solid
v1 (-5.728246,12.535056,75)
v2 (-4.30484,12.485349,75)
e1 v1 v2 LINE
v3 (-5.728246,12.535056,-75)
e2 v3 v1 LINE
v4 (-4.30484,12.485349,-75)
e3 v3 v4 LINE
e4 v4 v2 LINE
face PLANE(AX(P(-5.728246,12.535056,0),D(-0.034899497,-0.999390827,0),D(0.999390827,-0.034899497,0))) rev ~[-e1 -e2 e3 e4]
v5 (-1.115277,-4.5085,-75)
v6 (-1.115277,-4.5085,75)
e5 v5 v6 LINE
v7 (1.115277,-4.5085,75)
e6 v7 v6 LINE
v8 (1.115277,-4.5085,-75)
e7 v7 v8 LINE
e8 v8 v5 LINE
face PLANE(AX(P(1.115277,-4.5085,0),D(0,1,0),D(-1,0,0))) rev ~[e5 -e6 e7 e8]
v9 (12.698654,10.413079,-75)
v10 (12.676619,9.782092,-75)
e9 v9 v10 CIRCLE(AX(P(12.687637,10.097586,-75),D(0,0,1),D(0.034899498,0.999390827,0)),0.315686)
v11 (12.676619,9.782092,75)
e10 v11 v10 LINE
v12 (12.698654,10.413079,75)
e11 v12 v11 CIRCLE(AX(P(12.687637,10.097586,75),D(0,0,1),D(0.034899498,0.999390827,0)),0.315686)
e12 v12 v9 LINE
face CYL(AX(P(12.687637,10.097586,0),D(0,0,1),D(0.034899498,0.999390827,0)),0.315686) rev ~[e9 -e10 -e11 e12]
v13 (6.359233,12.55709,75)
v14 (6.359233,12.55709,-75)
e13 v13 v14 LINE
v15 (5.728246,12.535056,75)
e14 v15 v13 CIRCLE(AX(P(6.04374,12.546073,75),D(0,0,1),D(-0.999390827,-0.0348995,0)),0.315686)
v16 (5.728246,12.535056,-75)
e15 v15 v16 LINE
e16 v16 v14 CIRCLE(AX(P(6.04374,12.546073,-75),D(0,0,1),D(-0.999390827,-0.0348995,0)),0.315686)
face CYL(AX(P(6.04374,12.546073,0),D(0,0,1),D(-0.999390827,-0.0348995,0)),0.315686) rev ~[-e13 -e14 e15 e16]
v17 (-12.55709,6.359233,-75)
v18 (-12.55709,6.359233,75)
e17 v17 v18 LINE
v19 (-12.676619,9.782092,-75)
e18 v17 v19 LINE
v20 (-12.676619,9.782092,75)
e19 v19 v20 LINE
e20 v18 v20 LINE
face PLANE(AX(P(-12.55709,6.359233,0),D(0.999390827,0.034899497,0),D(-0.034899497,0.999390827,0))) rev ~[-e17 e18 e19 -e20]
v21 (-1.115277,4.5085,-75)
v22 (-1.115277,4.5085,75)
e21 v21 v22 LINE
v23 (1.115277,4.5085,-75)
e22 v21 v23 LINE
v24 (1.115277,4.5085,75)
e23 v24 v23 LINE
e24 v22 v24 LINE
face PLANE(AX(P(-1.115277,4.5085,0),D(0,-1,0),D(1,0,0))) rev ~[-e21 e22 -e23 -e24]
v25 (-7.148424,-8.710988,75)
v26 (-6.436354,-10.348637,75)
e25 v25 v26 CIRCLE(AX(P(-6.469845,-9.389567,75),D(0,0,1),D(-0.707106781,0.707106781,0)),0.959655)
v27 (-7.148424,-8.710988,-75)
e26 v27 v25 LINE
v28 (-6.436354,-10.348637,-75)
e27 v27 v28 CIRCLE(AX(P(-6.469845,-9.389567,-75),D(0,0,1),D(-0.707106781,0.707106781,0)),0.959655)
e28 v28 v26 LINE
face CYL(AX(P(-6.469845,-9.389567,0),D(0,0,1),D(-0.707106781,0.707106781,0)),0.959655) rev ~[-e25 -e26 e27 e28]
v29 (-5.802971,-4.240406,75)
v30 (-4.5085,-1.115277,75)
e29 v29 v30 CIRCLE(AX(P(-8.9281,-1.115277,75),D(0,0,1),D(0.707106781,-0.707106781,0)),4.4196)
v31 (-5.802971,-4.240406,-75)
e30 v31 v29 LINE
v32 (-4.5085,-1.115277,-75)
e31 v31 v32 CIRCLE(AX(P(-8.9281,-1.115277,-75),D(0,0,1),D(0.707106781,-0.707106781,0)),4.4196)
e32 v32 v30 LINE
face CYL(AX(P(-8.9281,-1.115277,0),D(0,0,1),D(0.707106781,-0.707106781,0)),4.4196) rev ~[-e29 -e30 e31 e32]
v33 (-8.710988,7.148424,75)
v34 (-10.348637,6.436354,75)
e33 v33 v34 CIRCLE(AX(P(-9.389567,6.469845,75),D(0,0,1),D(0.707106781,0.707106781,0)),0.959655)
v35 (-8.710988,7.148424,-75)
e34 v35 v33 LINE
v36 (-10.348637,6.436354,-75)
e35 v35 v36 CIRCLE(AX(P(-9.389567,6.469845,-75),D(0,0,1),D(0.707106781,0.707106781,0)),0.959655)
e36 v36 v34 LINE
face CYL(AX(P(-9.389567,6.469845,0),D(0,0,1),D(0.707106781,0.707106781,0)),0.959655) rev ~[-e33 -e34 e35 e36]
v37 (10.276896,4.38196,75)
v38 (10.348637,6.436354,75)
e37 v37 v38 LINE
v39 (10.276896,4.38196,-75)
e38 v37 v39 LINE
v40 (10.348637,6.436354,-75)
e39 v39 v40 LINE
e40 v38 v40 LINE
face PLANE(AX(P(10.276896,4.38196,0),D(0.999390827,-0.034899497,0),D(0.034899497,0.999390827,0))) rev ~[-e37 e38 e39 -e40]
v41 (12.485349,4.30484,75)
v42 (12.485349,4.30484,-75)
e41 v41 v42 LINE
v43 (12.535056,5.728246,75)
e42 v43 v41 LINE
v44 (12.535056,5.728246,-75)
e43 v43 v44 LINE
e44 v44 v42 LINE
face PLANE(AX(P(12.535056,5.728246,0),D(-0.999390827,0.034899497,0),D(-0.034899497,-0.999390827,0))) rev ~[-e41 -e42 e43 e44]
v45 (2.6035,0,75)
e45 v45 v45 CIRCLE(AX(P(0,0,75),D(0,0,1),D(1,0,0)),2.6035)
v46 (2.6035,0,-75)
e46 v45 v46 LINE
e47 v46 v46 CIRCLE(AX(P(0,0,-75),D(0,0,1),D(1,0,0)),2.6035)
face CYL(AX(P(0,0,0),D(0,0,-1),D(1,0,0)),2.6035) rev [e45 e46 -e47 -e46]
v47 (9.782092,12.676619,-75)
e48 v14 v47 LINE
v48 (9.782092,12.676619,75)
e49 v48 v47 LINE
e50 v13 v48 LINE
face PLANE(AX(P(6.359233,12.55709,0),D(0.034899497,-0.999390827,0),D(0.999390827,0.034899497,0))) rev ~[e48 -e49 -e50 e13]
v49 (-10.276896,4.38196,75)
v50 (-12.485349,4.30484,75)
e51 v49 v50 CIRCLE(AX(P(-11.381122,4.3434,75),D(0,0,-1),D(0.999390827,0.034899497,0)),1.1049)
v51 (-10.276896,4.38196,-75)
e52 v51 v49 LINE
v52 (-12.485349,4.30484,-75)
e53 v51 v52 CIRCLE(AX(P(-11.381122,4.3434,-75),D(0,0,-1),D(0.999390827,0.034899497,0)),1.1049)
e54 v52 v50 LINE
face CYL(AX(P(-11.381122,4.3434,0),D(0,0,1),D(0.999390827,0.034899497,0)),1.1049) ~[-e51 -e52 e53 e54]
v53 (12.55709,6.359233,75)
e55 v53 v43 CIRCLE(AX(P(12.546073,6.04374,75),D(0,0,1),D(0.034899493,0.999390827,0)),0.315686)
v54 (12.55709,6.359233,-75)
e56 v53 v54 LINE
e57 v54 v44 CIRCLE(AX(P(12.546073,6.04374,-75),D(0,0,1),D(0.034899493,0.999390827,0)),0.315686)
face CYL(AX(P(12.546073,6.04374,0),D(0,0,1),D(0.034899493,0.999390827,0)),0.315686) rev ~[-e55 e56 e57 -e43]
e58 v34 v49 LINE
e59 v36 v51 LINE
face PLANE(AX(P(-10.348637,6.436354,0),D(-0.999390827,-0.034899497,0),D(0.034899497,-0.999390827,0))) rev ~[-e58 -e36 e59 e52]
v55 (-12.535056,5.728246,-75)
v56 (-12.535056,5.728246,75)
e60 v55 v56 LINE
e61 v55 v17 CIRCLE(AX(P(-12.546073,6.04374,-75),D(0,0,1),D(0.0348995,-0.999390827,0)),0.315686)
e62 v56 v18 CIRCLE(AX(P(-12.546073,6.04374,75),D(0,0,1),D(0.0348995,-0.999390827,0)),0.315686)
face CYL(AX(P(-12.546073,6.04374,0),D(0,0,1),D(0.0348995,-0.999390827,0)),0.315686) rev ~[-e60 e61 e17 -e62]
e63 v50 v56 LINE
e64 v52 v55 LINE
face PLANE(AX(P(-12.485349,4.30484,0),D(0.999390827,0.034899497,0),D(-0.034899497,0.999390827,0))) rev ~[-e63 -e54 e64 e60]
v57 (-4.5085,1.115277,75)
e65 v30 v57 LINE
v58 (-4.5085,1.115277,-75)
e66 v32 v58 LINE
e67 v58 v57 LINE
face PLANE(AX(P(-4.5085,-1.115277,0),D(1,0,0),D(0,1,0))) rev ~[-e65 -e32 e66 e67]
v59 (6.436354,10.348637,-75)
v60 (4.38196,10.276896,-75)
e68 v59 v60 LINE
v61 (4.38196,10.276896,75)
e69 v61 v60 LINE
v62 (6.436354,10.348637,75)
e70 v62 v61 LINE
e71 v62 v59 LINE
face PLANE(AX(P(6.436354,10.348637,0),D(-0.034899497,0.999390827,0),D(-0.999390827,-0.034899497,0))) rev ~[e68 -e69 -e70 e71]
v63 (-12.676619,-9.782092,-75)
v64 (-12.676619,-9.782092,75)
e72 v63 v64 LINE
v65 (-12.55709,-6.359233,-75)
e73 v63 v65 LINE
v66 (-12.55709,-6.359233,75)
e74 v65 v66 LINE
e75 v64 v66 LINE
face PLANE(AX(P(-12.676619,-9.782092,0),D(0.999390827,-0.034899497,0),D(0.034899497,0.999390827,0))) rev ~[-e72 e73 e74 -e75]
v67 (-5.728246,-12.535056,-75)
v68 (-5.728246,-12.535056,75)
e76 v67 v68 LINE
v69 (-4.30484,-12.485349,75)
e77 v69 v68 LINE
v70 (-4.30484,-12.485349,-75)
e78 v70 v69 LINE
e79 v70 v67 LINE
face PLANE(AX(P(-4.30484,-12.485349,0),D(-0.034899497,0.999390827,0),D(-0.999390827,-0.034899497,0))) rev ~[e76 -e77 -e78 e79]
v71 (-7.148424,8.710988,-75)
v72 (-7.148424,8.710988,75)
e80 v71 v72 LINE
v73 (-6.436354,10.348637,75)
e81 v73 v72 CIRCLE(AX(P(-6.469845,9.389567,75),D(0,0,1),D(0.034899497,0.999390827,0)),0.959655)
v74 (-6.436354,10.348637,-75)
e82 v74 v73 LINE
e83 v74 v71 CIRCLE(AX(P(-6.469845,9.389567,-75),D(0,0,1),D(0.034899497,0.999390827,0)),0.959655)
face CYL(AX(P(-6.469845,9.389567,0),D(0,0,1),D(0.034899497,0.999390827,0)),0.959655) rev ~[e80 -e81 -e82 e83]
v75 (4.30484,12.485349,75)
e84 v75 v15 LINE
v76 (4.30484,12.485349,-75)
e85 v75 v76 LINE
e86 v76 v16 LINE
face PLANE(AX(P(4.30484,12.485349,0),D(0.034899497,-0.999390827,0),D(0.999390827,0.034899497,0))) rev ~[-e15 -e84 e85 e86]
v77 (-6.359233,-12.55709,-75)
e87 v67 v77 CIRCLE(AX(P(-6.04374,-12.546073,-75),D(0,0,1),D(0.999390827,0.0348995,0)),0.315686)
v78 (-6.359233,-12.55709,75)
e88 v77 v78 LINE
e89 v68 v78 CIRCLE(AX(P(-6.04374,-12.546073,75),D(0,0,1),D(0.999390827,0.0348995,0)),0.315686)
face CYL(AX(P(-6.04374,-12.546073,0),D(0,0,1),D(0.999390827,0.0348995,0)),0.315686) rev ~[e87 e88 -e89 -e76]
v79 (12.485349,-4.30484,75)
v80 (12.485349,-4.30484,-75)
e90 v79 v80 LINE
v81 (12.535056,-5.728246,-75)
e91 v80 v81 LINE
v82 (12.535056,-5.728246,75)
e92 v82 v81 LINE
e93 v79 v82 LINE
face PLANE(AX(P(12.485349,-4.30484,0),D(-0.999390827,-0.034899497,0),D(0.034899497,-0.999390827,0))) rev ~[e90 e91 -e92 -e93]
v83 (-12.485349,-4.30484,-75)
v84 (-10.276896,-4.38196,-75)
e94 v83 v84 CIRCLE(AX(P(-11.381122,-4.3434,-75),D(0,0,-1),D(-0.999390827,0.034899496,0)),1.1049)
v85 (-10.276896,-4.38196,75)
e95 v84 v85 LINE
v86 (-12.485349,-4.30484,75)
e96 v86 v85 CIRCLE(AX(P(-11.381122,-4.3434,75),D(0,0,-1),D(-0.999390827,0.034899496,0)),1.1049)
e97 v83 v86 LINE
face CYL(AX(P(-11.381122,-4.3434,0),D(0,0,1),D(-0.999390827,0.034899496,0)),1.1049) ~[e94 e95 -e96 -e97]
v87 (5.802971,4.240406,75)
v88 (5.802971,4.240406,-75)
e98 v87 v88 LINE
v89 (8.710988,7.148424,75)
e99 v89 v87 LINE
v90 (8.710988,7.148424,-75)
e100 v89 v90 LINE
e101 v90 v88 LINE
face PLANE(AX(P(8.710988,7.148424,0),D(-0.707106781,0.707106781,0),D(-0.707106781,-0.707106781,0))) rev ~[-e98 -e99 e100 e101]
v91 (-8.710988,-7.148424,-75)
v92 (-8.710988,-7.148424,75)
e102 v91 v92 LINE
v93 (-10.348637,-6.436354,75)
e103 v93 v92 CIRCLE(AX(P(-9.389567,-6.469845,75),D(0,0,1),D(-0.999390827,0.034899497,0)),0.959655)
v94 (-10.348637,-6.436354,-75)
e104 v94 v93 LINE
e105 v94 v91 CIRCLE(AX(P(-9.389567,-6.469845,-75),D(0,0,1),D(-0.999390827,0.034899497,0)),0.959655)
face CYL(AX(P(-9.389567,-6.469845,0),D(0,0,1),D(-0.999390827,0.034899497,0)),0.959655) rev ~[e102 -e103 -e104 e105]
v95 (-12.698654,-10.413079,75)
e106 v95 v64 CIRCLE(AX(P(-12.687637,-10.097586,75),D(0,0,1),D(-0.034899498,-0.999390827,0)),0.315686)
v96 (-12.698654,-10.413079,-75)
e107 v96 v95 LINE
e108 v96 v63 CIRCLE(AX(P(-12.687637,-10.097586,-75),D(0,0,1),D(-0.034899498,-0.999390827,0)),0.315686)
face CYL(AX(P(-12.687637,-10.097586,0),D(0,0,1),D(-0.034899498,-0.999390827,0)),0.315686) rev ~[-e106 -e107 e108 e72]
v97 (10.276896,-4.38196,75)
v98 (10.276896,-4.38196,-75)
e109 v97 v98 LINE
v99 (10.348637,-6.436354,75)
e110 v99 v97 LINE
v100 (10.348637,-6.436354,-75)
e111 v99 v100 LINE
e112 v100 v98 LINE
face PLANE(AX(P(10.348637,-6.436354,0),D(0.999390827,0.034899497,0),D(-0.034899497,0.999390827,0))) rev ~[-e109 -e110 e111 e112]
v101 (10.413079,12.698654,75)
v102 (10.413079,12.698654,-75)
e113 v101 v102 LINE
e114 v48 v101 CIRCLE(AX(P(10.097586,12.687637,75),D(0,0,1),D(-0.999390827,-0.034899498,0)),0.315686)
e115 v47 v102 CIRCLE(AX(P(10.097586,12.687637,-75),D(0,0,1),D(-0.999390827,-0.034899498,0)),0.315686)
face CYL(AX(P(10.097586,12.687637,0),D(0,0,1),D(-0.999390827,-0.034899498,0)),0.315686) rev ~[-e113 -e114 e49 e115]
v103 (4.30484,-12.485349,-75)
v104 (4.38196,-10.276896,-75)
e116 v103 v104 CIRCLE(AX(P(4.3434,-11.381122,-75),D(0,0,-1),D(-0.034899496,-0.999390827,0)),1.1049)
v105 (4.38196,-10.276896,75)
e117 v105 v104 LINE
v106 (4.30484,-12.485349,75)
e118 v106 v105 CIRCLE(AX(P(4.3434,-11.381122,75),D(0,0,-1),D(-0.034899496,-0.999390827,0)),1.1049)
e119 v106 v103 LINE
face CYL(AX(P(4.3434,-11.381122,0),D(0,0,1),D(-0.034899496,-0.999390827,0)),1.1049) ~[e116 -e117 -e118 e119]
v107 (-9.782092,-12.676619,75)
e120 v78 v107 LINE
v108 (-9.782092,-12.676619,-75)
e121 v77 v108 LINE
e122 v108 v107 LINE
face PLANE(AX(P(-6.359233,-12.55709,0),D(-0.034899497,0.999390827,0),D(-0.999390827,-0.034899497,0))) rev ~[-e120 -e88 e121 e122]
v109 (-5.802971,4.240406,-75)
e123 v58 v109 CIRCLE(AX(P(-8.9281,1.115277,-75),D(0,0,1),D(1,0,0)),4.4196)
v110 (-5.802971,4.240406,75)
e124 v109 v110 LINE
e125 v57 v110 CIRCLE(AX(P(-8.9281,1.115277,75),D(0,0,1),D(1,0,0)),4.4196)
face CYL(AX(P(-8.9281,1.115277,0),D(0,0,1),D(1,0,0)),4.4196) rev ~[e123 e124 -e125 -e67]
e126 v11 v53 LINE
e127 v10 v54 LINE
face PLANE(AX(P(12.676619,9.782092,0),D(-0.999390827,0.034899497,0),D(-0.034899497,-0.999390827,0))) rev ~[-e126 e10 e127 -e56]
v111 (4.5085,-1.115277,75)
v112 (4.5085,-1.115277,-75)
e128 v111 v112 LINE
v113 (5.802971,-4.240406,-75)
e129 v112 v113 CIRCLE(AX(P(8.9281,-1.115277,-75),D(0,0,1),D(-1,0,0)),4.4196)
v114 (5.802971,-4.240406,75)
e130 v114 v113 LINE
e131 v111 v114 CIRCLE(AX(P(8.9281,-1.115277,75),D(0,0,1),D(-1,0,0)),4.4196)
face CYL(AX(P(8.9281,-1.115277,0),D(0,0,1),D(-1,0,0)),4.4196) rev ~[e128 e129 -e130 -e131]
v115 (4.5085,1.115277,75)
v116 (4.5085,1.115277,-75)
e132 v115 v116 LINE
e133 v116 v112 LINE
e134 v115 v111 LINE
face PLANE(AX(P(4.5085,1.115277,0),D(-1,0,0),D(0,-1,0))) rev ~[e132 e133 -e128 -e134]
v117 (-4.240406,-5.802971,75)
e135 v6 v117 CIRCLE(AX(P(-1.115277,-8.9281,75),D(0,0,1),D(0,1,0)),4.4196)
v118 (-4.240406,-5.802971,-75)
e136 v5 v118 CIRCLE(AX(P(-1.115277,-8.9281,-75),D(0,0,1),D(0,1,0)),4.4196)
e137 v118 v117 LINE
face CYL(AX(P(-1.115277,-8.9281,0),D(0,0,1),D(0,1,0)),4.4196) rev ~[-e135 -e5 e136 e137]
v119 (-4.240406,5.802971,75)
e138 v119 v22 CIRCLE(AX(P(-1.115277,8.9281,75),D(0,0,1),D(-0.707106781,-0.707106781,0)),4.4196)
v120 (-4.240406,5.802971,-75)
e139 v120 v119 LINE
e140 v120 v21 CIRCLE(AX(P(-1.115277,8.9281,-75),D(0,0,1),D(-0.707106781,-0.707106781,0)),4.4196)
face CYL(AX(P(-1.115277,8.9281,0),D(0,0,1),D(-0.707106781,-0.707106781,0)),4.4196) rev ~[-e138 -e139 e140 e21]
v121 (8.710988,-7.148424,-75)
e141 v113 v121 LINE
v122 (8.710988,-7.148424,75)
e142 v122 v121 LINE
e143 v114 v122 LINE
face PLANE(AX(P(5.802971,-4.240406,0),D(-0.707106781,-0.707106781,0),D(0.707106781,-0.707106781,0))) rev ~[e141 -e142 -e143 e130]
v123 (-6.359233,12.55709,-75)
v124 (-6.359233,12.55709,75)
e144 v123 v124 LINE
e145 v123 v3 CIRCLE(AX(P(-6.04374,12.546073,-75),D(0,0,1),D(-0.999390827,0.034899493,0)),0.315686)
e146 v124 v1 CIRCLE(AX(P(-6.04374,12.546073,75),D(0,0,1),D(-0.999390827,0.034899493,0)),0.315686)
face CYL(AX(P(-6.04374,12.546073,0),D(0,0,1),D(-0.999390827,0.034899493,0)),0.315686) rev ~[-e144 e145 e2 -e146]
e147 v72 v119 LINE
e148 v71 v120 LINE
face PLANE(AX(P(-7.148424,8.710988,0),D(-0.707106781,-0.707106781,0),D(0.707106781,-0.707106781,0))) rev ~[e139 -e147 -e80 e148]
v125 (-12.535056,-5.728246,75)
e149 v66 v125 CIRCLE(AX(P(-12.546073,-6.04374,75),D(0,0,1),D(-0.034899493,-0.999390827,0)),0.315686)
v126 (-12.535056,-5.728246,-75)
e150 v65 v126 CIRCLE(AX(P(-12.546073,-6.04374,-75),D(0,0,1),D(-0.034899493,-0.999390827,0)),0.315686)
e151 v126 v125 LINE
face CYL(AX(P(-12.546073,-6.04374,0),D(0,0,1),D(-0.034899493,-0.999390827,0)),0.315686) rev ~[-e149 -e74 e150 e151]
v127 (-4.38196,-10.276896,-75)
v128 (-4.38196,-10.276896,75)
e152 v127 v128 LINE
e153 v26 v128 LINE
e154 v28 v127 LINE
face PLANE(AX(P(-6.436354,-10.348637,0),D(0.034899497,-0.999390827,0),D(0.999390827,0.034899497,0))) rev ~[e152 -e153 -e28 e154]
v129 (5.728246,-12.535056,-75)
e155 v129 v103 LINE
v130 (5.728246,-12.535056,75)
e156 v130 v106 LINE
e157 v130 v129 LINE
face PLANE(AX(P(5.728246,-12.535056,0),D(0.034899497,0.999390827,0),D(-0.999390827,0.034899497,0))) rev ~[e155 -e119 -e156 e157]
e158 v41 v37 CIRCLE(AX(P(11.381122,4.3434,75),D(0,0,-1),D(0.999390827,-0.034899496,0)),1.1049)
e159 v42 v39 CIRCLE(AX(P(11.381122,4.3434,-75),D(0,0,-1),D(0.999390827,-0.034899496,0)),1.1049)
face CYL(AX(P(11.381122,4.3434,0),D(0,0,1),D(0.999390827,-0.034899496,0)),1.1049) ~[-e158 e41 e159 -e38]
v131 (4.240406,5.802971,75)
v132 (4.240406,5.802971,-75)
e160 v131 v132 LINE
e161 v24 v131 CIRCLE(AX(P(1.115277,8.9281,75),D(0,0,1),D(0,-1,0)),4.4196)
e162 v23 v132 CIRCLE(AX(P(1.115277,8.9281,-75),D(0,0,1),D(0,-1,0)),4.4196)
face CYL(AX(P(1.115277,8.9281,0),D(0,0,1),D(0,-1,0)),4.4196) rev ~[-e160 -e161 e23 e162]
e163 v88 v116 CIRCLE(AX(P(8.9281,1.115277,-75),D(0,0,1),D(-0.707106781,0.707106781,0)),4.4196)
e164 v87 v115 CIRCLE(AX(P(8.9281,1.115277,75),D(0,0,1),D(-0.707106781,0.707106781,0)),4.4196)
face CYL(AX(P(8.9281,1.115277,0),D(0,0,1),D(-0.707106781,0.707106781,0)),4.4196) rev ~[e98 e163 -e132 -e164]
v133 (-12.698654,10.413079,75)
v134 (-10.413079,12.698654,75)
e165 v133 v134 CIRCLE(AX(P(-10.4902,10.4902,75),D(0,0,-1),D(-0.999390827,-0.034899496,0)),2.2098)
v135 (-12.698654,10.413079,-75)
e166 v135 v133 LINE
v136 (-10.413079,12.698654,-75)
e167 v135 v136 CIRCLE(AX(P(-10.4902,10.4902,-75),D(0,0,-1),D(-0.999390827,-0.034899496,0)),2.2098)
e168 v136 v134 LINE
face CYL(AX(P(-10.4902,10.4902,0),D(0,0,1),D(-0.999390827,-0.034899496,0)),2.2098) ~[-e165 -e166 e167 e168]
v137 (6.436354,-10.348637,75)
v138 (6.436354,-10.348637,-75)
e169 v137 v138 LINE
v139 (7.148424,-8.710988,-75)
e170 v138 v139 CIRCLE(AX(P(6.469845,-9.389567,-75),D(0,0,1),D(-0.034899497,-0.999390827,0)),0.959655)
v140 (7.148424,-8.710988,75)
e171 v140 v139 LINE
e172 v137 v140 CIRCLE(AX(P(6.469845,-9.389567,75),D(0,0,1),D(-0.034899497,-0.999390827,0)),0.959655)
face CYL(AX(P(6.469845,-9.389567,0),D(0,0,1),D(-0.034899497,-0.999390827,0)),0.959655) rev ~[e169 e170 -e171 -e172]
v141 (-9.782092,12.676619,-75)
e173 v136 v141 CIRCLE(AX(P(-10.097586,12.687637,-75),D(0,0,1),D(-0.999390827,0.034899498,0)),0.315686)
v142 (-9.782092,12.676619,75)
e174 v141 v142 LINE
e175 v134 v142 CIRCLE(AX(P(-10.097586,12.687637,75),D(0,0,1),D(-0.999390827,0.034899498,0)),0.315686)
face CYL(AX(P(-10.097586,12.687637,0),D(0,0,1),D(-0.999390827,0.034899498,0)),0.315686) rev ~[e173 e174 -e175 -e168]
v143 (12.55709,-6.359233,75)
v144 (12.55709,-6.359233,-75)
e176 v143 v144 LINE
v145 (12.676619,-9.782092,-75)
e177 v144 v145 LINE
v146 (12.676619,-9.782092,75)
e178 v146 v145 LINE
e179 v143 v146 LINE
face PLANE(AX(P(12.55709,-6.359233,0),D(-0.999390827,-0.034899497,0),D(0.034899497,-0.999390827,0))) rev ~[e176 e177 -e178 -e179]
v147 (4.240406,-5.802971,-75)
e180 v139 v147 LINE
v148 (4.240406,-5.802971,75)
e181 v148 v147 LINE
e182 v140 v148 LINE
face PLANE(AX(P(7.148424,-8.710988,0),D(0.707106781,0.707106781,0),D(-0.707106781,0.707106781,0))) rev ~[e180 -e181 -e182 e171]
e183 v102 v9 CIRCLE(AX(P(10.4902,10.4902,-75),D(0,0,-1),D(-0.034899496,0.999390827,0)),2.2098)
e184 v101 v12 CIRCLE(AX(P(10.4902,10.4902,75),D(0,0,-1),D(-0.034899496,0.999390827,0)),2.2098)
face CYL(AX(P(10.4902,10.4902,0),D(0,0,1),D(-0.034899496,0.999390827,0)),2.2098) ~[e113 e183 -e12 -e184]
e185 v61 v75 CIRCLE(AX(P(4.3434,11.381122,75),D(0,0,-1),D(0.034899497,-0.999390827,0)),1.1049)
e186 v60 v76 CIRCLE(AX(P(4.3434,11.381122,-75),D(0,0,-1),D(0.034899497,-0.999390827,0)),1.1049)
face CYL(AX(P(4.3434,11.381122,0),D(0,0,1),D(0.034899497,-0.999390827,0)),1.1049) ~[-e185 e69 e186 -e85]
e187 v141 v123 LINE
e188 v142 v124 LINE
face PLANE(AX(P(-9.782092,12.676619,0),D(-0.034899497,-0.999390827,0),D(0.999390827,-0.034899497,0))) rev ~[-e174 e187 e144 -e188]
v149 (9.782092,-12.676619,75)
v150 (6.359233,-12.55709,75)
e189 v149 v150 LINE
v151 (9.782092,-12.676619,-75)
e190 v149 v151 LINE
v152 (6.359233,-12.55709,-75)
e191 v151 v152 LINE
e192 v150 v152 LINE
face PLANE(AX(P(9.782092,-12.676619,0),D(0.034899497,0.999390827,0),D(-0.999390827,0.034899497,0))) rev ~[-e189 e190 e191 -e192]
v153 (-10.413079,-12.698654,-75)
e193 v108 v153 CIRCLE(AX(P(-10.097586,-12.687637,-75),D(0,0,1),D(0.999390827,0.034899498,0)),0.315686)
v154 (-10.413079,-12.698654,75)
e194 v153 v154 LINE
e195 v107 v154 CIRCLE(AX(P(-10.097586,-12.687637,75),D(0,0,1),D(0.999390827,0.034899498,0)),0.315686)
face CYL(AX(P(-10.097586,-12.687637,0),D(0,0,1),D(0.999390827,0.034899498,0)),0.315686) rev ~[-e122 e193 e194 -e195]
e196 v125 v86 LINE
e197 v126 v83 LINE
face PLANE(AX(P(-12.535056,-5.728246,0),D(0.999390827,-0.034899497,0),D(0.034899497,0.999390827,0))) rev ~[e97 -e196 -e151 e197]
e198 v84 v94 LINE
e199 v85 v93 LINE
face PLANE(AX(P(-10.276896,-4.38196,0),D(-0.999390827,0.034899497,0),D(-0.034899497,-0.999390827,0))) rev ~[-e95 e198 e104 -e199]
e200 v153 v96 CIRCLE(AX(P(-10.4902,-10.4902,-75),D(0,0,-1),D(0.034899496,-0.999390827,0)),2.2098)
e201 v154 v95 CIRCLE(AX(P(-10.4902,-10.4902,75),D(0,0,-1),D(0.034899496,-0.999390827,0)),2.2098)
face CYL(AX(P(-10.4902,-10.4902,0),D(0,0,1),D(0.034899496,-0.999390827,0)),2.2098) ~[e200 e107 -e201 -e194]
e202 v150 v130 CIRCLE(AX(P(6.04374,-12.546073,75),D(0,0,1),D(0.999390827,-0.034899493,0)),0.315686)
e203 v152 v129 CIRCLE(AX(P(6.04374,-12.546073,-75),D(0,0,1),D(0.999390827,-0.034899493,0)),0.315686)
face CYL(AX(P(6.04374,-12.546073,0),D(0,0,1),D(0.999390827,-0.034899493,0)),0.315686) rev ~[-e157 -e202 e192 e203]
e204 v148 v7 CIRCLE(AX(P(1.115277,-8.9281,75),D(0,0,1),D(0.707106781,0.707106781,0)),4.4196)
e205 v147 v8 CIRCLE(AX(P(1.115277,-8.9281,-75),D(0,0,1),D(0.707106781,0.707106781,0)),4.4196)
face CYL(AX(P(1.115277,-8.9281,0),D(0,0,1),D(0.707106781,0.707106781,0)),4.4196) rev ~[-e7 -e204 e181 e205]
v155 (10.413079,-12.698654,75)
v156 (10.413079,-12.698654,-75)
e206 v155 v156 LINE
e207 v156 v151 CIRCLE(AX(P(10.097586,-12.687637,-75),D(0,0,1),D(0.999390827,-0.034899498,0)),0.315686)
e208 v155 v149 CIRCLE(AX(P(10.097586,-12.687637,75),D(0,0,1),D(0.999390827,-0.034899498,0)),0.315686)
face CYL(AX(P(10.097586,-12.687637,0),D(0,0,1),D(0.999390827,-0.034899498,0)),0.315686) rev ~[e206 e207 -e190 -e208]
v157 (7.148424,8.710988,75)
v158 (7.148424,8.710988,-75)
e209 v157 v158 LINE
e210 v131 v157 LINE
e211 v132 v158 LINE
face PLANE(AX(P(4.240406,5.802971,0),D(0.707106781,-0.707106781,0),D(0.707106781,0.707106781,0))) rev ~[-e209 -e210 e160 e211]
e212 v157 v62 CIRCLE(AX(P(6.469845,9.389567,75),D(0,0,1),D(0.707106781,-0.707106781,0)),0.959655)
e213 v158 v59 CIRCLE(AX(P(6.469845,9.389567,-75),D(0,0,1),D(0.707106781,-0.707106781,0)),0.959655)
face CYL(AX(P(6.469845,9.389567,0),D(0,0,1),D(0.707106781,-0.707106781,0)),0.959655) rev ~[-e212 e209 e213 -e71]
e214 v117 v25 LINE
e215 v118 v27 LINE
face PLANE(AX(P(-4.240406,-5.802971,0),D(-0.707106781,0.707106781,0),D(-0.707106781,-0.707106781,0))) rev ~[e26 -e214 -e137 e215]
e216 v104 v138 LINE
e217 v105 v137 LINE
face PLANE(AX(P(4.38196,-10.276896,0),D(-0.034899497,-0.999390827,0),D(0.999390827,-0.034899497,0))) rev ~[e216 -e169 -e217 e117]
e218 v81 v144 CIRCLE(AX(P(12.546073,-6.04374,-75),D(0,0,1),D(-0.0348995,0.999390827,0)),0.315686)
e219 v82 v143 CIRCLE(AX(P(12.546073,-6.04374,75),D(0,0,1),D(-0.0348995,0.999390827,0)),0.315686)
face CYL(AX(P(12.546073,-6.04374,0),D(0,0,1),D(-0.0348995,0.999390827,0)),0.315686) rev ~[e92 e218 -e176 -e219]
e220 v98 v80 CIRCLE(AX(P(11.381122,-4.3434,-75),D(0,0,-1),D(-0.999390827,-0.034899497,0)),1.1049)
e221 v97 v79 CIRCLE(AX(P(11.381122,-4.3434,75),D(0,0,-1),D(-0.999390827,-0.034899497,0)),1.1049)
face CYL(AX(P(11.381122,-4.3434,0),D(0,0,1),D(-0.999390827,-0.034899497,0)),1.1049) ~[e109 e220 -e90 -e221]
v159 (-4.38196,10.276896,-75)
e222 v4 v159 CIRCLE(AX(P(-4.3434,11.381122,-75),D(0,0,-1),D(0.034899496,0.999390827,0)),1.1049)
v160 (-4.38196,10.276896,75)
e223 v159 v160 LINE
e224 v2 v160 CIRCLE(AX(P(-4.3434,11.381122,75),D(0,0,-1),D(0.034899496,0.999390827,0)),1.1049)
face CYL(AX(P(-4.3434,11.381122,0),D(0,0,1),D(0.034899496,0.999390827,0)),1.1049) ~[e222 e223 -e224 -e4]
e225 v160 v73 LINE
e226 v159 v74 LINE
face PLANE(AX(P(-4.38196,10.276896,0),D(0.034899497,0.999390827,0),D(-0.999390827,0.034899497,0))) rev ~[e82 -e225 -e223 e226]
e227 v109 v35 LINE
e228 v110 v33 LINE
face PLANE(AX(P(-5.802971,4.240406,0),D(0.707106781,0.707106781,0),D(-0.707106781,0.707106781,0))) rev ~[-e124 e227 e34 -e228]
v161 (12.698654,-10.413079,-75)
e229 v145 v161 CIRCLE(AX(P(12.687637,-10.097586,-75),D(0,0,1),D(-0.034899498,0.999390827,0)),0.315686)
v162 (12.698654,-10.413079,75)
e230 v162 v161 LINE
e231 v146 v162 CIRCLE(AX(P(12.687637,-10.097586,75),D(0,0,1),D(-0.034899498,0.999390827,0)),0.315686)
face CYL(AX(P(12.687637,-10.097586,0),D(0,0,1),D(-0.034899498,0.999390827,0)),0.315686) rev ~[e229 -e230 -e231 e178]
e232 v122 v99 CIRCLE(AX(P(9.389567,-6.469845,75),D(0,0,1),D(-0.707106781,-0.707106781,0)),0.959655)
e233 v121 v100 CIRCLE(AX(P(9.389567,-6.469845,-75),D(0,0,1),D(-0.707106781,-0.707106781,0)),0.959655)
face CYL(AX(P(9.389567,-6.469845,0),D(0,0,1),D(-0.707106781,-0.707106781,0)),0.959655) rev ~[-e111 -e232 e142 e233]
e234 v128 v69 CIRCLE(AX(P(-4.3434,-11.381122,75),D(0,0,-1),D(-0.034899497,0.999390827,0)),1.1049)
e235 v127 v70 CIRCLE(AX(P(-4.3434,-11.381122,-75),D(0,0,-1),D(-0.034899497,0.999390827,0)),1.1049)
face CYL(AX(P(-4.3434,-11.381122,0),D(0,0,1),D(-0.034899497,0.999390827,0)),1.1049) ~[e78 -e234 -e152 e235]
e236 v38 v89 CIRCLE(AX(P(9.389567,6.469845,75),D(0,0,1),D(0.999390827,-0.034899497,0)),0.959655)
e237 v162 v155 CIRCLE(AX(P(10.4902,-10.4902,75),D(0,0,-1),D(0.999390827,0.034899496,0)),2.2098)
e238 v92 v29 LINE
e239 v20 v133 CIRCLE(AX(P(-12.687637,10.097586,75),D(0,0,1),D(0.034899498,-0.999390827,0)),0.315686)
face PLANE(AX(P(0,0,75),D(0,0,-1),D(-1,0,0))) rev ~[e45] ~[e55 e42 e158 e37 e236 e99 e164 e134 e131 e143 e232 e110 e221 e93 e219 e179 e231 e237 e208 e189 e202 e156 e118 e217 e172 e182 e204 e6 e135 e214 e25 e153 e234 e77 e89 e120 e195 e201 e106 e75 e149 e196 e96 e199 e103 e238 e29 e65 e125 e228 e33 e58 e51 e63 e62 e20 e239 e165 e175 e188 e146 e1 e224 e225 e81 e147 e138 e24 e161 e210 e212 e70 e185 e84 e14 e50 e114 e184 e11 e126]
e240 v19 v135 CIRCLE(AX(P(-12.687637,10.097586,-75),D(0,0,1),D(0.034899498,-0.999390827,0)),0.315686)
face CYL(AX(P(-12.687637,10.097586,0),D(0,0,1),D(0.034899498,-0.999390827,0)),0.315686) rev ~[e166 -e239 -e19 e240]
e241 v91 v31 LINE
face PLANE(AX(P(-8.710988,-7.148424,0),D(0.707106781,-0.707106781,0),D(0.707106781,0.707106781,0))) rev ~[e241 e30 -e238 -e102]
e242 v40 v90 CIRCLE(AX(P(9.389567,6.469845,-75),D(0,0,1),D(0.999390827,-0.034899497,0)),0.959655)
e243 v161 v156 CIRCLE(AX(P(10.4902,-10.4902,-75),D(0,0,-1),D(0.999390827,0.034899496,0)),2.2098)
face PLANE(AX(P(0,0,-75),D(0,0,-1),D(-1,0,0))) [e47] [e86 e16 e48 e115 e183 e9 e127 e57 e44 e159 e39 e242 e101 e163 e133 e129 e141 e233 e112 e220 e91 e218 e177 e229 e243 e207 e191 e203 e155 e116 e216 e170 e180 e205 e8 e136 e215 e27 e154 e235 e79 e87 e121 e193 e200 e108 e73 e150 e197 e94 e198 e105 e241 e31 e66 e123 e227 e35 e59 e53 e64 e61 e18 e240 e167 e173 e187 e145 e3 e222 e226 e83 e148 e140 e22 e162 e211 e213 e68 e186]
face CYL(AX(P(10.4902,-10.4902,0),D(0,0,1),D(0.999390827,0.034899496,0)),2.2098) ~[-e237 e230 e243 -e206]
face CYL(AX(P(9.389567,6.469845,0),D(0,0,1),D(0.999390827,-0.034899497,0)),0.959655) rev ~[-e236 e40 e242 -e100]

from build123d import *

# Parameters (mm, degrees)
SKETCH3_R      = 2.6035
EXTRUDE1_DEPTH = 75


with BuildPart() as part:
    # Sketch3 → Extrude1 (new, symmetric)
    with BuildSketch(Plane.XY):
        with BuildLine():
            Line((-1.115277175, 4.5085), (1.115277175, 4.5085))
            ThreePointArc((1.115277175, 4.5085), (2.806584872, 4.844922018), (4.240406305, 5.80297087))
            Line((4.240406305, 5.80297087), (7.148423664, 8.710988229))
            ThreePointArc((7.148423664, 8.710988229), (7.349906316, 9.772227925), (6.436353897, 10.348636575))
            Line((6.436353897, 10.348636575), (4.381960454, 10.276895575))
            ThreePointArc((4.381960454, 10.276895575), (3.239173075, 11.342562046), (4.304839546, 12.485349424))
            Line((4.304839546, 12.485349424), (5.728246175, 12.535055879))
            ThreePointArc((5.728246175, 12.535055879), (6.054756855, 12.230579745), (6.35923299, 12.557090424))
            Line((6.35923299, 12.557090424), (9.782092278, 12.676619304))
            ThreePointArc((9.782092278, 12.676619304), (10.108602958, 12.37214317), (10.413079092, 12.69865385))
            ThreePointArc((10.413079092, 12.69865385), (12.052764565, 12.052764565), (12.69865385, 10.413079092))
            ThreePointArc((12.69865385, 10.413079092), (12.37214317, 10.108602958), (12.676619304, 9.782092278))
            Line((12.676619304, 9.782092278), (12.557090424, 6.35923299))
            ThreePointArc((12.557090424, 6.35923299), (12.230579745, 6.054756855), (12.535055879, 5.728246175))
            Line((12.535055879, 5.728246175), (12.485349424, 4.304839546))
            ThreePointArc((12.485349424, 4.304839546), (11.342562046, 3.239173075), (10.276895575, 4.381960454))
            Line((10.276895575, 4.381960454), (10.348636575, 6.436353897))
            ThreePointArc((10.348636575, 6.436353897), (9.772227925, 7.349906316), (8.710988229, 7.148423664))
            Line((8.710988229, 7.148423664), (5.80297087, 4.240406305))
            ThreePointArc((5.80297087, 4.240406305), (4.844922018, 2.806584872), (4.5085, 1.115277175))
            Line((4.5085, 1.115277175), (4.5085, -1.115277175))
            ThreePointArc((4.5085, -1.115277175), (4.844922018, -2.806584872), (5.80297087, -4.240406305))
            Line((5.80297087, -4.240406305), (8.710988229, -7.148423664))
            ThreePointArc((8.710988229, -7.148423664), (9.772227925, -7.349906316), (10.348636575, -6.436353897))
            Line((10.348636575, -6.436353897), (10.276895575, -4.381960454))
            ThreePointArc((10.276895575, -4.381960454), (11.342562046, -3.239173075), (12.485349424, -4.304839546))
            Line((12.485349424, -4.304839546), (12.535055879, -5.728246175))
            ThreePointArc((12.535055879, -5.728246175), (12.230579745, -6.054756855), (12.557090424, -6.35923299))
            Line((12.557090424, -6.35923299), (12.676619304, -9.782092278))
            ThreePointArc((12.676619304, -9.782092278), (12.37214317, -10.108602958), (12.69865385, -10.413079092))
            ThreePointArc((12.69865385, -10.413079092), (12.052764565, -12.052764565), (10.413079092, -12.69865385))
            ThreePointArc((10.413079092, -12.69865385), (10.108602958, -12.37214317), (9.782092278, -12.676619304))
            Line((9.782092278, -12.676619304), (6.35923299, -12.557090424))
            ThreePointArc((6.35923299, -12.557090424), (6.054756855, -12.230579745), (5.728246175, -12.535055879))
            Line((5.728246175, -12.535055879), (4.304839546, -12.485349424))
            ThreePointArc((4.304839546, -12.485349424), (3.239173075, -11.342562046), (4.381960454, -10.276895575))
            Line((4.381960454, -10.276895575), (6.436353897, -10.348636575))
            ThreePointArc((6.436353897, -10.348636575), (7.349906316, -9.772227925), (7.148423664, -8.710988229))
            Line((7.148423664, -8.710988229), (4.240406305, -5.80297087))
            ThreePointArc((4.240406305, -5.80297087), (2.806584872, -4.844922018), (1.115277175, -4.5085))
            Line((1.115277175, -4.5085), (-1.115277175, -4.5085))
            ThreePointArc((-1.115277175, -4.5085), (-2.806584872, -4.844922018), (-4.240406305, -5.80297087))
            Line((-4.240406305, -5.80297087), (-7.148423664, -8.710988229))
            ThreePointArc((-7.148423664, -8.710988229), (-7.349906316, -9.772227925), (-6.436353897, -10.348636575))
            Line((-6.436353897, -10.348636575), (-4.381960454, -10.276895575))
            ThreePointArc((-4.381960454, -10.276895575), (-3.239173075, -11.342562046), (-4.304839546, -12.485349424))
            Line((-4.304839546, -12.485349424), (-5.728246175, -12.535055879))
            ThreePointArc((-5.728246175, -12.535055879), (-6.054756855, -12.230579745), (-6.35923299, -12.557090424))
            Line((-6.35923299, -12.557090424), (-9.782092278, -12.676619304))
            ThreePointArc((-9.782092278, -12.676619304), (-10.108602958, -12.37214317), (-10.413079092, -12.69865385))
            ThreePointArc((-10.413079092, -12.69865385), (-12.052764565, -12.052764565), (-12.69865385, -10.413079092))
            ThreePointArc((-12.69865385, -10.413079092), (-12.37214317, -10.108602958), (-12.676619304, -9.782092278))
            Line((-12.676619304, -9.782092278), (-12.557090424, -6.35923299))
            ThreePointArc((-12.557090424, -6.35923299), (-12.230579745, -6.054756855), (-12.535055879, -5.728246175))
            Line((-12.535055879, -5.728246175), (-12.485349424, -4.304839546))
            ThreePointArc((-12.485349424, -4.304839546), (-11.342562046, -3.239173075), (-10.276895575, -4.381960454))
            Line((-10.276895575, -4.381960454), (-10.348636575, -6.436353897))
            ThreePointArc((-10.348636575, -6.436353897), (-9.772227925, -7.349906316), (-8.710988229, -7.148423664))
            Line((-8.710988229, -7.148423664), (-5.80297087, -4.240406305))
            ThreePointArc((-5.80297087, -4.240406305), (-4.844922018, -2.806584872), (-4.5085, -1.115277175))
            Line((-4.5085, -1.115277175), (-4.5085, 1.115277175))
            ThreePointArc((-4.5085, 1.115277175), (-4.844922018, 2.806584872), (-5.80297087, 4.240406305))
            Line((-5.80297087, 4.240406305), (-8.710988229, 7.148423664))
            ThreePointArc((-8.710988229, 7.148423664), (-9.772227925, 7.349906316), (-10.348636575, 6.436353897))
            Line((-10.348636575, 6.436353897), (-10.276895575, 4.381960454))
            ThreePointArc((-10.276895575, 4.381960454), (-11.342562046, 3.239173075), (-12.485349424, 4.304839546))
            Line((-12.485349424, 4.304839546), (-12.535055879, 5.728246175))
            ThreePointArc((-12.535055879, 5.728246175), (-12.230579745, 6.054756855), (-12.557090424, 6.35923299))
            Line((-12.557090424, 6.35923299), (-12.676619304, 9.782092278))
            ThreePointArc((-12.676619304, 9.782092278), (-12.37214317, 10.108602958), (-12.69865385, 10.413079092))
            ThreePointArc((-12.69865385, 10.413079092), (-12.052764565, 12.052764565), (-10.413079092, 12.69865385))
            ThreePointArc((-10.413079092, 12.69865385), (-10.108602958, 12.37214317), (-9.782092278, 12.676619304))
            Line((-9.782092278, 12.676619304), (-6.35923299, 12.557090424))
            ThreePointArc((-6.35923299, 12.557090424), (-6.054756855, 12.230579745), (-5.728246175, 12.535055879))
            Line((-5.728246175, 12.535055879), (-4.304839546, 12.485349424))
            ThreePointArc((-4.304839546, 12.485349424), (-3.239173075, 11.342562046), (-4.381960454, 10.276895575))
            Line((-4.381960454, 10.276895575), (-6.436353897, 10.348636575))
            ThreePointArc((-6.436353897, 10.348636575), (-7.349906316, 9.772227925), (-7.148423664, 8.710988229))
            Line((-7.148423664, 8.710988229), (-4.240406305, 5.80297087))
            ThreePointArc((-4.240406305, 5.80297087), (-2.806584872, 4.844922018), (-1.115277175, 4.5085))
        make_face()
        Circle(SKETCH3_R, mode=Mode.SUBTRACT)
    extrude(amount=EXTRUDE1_DEPTH, both=True)


solid = part.part
